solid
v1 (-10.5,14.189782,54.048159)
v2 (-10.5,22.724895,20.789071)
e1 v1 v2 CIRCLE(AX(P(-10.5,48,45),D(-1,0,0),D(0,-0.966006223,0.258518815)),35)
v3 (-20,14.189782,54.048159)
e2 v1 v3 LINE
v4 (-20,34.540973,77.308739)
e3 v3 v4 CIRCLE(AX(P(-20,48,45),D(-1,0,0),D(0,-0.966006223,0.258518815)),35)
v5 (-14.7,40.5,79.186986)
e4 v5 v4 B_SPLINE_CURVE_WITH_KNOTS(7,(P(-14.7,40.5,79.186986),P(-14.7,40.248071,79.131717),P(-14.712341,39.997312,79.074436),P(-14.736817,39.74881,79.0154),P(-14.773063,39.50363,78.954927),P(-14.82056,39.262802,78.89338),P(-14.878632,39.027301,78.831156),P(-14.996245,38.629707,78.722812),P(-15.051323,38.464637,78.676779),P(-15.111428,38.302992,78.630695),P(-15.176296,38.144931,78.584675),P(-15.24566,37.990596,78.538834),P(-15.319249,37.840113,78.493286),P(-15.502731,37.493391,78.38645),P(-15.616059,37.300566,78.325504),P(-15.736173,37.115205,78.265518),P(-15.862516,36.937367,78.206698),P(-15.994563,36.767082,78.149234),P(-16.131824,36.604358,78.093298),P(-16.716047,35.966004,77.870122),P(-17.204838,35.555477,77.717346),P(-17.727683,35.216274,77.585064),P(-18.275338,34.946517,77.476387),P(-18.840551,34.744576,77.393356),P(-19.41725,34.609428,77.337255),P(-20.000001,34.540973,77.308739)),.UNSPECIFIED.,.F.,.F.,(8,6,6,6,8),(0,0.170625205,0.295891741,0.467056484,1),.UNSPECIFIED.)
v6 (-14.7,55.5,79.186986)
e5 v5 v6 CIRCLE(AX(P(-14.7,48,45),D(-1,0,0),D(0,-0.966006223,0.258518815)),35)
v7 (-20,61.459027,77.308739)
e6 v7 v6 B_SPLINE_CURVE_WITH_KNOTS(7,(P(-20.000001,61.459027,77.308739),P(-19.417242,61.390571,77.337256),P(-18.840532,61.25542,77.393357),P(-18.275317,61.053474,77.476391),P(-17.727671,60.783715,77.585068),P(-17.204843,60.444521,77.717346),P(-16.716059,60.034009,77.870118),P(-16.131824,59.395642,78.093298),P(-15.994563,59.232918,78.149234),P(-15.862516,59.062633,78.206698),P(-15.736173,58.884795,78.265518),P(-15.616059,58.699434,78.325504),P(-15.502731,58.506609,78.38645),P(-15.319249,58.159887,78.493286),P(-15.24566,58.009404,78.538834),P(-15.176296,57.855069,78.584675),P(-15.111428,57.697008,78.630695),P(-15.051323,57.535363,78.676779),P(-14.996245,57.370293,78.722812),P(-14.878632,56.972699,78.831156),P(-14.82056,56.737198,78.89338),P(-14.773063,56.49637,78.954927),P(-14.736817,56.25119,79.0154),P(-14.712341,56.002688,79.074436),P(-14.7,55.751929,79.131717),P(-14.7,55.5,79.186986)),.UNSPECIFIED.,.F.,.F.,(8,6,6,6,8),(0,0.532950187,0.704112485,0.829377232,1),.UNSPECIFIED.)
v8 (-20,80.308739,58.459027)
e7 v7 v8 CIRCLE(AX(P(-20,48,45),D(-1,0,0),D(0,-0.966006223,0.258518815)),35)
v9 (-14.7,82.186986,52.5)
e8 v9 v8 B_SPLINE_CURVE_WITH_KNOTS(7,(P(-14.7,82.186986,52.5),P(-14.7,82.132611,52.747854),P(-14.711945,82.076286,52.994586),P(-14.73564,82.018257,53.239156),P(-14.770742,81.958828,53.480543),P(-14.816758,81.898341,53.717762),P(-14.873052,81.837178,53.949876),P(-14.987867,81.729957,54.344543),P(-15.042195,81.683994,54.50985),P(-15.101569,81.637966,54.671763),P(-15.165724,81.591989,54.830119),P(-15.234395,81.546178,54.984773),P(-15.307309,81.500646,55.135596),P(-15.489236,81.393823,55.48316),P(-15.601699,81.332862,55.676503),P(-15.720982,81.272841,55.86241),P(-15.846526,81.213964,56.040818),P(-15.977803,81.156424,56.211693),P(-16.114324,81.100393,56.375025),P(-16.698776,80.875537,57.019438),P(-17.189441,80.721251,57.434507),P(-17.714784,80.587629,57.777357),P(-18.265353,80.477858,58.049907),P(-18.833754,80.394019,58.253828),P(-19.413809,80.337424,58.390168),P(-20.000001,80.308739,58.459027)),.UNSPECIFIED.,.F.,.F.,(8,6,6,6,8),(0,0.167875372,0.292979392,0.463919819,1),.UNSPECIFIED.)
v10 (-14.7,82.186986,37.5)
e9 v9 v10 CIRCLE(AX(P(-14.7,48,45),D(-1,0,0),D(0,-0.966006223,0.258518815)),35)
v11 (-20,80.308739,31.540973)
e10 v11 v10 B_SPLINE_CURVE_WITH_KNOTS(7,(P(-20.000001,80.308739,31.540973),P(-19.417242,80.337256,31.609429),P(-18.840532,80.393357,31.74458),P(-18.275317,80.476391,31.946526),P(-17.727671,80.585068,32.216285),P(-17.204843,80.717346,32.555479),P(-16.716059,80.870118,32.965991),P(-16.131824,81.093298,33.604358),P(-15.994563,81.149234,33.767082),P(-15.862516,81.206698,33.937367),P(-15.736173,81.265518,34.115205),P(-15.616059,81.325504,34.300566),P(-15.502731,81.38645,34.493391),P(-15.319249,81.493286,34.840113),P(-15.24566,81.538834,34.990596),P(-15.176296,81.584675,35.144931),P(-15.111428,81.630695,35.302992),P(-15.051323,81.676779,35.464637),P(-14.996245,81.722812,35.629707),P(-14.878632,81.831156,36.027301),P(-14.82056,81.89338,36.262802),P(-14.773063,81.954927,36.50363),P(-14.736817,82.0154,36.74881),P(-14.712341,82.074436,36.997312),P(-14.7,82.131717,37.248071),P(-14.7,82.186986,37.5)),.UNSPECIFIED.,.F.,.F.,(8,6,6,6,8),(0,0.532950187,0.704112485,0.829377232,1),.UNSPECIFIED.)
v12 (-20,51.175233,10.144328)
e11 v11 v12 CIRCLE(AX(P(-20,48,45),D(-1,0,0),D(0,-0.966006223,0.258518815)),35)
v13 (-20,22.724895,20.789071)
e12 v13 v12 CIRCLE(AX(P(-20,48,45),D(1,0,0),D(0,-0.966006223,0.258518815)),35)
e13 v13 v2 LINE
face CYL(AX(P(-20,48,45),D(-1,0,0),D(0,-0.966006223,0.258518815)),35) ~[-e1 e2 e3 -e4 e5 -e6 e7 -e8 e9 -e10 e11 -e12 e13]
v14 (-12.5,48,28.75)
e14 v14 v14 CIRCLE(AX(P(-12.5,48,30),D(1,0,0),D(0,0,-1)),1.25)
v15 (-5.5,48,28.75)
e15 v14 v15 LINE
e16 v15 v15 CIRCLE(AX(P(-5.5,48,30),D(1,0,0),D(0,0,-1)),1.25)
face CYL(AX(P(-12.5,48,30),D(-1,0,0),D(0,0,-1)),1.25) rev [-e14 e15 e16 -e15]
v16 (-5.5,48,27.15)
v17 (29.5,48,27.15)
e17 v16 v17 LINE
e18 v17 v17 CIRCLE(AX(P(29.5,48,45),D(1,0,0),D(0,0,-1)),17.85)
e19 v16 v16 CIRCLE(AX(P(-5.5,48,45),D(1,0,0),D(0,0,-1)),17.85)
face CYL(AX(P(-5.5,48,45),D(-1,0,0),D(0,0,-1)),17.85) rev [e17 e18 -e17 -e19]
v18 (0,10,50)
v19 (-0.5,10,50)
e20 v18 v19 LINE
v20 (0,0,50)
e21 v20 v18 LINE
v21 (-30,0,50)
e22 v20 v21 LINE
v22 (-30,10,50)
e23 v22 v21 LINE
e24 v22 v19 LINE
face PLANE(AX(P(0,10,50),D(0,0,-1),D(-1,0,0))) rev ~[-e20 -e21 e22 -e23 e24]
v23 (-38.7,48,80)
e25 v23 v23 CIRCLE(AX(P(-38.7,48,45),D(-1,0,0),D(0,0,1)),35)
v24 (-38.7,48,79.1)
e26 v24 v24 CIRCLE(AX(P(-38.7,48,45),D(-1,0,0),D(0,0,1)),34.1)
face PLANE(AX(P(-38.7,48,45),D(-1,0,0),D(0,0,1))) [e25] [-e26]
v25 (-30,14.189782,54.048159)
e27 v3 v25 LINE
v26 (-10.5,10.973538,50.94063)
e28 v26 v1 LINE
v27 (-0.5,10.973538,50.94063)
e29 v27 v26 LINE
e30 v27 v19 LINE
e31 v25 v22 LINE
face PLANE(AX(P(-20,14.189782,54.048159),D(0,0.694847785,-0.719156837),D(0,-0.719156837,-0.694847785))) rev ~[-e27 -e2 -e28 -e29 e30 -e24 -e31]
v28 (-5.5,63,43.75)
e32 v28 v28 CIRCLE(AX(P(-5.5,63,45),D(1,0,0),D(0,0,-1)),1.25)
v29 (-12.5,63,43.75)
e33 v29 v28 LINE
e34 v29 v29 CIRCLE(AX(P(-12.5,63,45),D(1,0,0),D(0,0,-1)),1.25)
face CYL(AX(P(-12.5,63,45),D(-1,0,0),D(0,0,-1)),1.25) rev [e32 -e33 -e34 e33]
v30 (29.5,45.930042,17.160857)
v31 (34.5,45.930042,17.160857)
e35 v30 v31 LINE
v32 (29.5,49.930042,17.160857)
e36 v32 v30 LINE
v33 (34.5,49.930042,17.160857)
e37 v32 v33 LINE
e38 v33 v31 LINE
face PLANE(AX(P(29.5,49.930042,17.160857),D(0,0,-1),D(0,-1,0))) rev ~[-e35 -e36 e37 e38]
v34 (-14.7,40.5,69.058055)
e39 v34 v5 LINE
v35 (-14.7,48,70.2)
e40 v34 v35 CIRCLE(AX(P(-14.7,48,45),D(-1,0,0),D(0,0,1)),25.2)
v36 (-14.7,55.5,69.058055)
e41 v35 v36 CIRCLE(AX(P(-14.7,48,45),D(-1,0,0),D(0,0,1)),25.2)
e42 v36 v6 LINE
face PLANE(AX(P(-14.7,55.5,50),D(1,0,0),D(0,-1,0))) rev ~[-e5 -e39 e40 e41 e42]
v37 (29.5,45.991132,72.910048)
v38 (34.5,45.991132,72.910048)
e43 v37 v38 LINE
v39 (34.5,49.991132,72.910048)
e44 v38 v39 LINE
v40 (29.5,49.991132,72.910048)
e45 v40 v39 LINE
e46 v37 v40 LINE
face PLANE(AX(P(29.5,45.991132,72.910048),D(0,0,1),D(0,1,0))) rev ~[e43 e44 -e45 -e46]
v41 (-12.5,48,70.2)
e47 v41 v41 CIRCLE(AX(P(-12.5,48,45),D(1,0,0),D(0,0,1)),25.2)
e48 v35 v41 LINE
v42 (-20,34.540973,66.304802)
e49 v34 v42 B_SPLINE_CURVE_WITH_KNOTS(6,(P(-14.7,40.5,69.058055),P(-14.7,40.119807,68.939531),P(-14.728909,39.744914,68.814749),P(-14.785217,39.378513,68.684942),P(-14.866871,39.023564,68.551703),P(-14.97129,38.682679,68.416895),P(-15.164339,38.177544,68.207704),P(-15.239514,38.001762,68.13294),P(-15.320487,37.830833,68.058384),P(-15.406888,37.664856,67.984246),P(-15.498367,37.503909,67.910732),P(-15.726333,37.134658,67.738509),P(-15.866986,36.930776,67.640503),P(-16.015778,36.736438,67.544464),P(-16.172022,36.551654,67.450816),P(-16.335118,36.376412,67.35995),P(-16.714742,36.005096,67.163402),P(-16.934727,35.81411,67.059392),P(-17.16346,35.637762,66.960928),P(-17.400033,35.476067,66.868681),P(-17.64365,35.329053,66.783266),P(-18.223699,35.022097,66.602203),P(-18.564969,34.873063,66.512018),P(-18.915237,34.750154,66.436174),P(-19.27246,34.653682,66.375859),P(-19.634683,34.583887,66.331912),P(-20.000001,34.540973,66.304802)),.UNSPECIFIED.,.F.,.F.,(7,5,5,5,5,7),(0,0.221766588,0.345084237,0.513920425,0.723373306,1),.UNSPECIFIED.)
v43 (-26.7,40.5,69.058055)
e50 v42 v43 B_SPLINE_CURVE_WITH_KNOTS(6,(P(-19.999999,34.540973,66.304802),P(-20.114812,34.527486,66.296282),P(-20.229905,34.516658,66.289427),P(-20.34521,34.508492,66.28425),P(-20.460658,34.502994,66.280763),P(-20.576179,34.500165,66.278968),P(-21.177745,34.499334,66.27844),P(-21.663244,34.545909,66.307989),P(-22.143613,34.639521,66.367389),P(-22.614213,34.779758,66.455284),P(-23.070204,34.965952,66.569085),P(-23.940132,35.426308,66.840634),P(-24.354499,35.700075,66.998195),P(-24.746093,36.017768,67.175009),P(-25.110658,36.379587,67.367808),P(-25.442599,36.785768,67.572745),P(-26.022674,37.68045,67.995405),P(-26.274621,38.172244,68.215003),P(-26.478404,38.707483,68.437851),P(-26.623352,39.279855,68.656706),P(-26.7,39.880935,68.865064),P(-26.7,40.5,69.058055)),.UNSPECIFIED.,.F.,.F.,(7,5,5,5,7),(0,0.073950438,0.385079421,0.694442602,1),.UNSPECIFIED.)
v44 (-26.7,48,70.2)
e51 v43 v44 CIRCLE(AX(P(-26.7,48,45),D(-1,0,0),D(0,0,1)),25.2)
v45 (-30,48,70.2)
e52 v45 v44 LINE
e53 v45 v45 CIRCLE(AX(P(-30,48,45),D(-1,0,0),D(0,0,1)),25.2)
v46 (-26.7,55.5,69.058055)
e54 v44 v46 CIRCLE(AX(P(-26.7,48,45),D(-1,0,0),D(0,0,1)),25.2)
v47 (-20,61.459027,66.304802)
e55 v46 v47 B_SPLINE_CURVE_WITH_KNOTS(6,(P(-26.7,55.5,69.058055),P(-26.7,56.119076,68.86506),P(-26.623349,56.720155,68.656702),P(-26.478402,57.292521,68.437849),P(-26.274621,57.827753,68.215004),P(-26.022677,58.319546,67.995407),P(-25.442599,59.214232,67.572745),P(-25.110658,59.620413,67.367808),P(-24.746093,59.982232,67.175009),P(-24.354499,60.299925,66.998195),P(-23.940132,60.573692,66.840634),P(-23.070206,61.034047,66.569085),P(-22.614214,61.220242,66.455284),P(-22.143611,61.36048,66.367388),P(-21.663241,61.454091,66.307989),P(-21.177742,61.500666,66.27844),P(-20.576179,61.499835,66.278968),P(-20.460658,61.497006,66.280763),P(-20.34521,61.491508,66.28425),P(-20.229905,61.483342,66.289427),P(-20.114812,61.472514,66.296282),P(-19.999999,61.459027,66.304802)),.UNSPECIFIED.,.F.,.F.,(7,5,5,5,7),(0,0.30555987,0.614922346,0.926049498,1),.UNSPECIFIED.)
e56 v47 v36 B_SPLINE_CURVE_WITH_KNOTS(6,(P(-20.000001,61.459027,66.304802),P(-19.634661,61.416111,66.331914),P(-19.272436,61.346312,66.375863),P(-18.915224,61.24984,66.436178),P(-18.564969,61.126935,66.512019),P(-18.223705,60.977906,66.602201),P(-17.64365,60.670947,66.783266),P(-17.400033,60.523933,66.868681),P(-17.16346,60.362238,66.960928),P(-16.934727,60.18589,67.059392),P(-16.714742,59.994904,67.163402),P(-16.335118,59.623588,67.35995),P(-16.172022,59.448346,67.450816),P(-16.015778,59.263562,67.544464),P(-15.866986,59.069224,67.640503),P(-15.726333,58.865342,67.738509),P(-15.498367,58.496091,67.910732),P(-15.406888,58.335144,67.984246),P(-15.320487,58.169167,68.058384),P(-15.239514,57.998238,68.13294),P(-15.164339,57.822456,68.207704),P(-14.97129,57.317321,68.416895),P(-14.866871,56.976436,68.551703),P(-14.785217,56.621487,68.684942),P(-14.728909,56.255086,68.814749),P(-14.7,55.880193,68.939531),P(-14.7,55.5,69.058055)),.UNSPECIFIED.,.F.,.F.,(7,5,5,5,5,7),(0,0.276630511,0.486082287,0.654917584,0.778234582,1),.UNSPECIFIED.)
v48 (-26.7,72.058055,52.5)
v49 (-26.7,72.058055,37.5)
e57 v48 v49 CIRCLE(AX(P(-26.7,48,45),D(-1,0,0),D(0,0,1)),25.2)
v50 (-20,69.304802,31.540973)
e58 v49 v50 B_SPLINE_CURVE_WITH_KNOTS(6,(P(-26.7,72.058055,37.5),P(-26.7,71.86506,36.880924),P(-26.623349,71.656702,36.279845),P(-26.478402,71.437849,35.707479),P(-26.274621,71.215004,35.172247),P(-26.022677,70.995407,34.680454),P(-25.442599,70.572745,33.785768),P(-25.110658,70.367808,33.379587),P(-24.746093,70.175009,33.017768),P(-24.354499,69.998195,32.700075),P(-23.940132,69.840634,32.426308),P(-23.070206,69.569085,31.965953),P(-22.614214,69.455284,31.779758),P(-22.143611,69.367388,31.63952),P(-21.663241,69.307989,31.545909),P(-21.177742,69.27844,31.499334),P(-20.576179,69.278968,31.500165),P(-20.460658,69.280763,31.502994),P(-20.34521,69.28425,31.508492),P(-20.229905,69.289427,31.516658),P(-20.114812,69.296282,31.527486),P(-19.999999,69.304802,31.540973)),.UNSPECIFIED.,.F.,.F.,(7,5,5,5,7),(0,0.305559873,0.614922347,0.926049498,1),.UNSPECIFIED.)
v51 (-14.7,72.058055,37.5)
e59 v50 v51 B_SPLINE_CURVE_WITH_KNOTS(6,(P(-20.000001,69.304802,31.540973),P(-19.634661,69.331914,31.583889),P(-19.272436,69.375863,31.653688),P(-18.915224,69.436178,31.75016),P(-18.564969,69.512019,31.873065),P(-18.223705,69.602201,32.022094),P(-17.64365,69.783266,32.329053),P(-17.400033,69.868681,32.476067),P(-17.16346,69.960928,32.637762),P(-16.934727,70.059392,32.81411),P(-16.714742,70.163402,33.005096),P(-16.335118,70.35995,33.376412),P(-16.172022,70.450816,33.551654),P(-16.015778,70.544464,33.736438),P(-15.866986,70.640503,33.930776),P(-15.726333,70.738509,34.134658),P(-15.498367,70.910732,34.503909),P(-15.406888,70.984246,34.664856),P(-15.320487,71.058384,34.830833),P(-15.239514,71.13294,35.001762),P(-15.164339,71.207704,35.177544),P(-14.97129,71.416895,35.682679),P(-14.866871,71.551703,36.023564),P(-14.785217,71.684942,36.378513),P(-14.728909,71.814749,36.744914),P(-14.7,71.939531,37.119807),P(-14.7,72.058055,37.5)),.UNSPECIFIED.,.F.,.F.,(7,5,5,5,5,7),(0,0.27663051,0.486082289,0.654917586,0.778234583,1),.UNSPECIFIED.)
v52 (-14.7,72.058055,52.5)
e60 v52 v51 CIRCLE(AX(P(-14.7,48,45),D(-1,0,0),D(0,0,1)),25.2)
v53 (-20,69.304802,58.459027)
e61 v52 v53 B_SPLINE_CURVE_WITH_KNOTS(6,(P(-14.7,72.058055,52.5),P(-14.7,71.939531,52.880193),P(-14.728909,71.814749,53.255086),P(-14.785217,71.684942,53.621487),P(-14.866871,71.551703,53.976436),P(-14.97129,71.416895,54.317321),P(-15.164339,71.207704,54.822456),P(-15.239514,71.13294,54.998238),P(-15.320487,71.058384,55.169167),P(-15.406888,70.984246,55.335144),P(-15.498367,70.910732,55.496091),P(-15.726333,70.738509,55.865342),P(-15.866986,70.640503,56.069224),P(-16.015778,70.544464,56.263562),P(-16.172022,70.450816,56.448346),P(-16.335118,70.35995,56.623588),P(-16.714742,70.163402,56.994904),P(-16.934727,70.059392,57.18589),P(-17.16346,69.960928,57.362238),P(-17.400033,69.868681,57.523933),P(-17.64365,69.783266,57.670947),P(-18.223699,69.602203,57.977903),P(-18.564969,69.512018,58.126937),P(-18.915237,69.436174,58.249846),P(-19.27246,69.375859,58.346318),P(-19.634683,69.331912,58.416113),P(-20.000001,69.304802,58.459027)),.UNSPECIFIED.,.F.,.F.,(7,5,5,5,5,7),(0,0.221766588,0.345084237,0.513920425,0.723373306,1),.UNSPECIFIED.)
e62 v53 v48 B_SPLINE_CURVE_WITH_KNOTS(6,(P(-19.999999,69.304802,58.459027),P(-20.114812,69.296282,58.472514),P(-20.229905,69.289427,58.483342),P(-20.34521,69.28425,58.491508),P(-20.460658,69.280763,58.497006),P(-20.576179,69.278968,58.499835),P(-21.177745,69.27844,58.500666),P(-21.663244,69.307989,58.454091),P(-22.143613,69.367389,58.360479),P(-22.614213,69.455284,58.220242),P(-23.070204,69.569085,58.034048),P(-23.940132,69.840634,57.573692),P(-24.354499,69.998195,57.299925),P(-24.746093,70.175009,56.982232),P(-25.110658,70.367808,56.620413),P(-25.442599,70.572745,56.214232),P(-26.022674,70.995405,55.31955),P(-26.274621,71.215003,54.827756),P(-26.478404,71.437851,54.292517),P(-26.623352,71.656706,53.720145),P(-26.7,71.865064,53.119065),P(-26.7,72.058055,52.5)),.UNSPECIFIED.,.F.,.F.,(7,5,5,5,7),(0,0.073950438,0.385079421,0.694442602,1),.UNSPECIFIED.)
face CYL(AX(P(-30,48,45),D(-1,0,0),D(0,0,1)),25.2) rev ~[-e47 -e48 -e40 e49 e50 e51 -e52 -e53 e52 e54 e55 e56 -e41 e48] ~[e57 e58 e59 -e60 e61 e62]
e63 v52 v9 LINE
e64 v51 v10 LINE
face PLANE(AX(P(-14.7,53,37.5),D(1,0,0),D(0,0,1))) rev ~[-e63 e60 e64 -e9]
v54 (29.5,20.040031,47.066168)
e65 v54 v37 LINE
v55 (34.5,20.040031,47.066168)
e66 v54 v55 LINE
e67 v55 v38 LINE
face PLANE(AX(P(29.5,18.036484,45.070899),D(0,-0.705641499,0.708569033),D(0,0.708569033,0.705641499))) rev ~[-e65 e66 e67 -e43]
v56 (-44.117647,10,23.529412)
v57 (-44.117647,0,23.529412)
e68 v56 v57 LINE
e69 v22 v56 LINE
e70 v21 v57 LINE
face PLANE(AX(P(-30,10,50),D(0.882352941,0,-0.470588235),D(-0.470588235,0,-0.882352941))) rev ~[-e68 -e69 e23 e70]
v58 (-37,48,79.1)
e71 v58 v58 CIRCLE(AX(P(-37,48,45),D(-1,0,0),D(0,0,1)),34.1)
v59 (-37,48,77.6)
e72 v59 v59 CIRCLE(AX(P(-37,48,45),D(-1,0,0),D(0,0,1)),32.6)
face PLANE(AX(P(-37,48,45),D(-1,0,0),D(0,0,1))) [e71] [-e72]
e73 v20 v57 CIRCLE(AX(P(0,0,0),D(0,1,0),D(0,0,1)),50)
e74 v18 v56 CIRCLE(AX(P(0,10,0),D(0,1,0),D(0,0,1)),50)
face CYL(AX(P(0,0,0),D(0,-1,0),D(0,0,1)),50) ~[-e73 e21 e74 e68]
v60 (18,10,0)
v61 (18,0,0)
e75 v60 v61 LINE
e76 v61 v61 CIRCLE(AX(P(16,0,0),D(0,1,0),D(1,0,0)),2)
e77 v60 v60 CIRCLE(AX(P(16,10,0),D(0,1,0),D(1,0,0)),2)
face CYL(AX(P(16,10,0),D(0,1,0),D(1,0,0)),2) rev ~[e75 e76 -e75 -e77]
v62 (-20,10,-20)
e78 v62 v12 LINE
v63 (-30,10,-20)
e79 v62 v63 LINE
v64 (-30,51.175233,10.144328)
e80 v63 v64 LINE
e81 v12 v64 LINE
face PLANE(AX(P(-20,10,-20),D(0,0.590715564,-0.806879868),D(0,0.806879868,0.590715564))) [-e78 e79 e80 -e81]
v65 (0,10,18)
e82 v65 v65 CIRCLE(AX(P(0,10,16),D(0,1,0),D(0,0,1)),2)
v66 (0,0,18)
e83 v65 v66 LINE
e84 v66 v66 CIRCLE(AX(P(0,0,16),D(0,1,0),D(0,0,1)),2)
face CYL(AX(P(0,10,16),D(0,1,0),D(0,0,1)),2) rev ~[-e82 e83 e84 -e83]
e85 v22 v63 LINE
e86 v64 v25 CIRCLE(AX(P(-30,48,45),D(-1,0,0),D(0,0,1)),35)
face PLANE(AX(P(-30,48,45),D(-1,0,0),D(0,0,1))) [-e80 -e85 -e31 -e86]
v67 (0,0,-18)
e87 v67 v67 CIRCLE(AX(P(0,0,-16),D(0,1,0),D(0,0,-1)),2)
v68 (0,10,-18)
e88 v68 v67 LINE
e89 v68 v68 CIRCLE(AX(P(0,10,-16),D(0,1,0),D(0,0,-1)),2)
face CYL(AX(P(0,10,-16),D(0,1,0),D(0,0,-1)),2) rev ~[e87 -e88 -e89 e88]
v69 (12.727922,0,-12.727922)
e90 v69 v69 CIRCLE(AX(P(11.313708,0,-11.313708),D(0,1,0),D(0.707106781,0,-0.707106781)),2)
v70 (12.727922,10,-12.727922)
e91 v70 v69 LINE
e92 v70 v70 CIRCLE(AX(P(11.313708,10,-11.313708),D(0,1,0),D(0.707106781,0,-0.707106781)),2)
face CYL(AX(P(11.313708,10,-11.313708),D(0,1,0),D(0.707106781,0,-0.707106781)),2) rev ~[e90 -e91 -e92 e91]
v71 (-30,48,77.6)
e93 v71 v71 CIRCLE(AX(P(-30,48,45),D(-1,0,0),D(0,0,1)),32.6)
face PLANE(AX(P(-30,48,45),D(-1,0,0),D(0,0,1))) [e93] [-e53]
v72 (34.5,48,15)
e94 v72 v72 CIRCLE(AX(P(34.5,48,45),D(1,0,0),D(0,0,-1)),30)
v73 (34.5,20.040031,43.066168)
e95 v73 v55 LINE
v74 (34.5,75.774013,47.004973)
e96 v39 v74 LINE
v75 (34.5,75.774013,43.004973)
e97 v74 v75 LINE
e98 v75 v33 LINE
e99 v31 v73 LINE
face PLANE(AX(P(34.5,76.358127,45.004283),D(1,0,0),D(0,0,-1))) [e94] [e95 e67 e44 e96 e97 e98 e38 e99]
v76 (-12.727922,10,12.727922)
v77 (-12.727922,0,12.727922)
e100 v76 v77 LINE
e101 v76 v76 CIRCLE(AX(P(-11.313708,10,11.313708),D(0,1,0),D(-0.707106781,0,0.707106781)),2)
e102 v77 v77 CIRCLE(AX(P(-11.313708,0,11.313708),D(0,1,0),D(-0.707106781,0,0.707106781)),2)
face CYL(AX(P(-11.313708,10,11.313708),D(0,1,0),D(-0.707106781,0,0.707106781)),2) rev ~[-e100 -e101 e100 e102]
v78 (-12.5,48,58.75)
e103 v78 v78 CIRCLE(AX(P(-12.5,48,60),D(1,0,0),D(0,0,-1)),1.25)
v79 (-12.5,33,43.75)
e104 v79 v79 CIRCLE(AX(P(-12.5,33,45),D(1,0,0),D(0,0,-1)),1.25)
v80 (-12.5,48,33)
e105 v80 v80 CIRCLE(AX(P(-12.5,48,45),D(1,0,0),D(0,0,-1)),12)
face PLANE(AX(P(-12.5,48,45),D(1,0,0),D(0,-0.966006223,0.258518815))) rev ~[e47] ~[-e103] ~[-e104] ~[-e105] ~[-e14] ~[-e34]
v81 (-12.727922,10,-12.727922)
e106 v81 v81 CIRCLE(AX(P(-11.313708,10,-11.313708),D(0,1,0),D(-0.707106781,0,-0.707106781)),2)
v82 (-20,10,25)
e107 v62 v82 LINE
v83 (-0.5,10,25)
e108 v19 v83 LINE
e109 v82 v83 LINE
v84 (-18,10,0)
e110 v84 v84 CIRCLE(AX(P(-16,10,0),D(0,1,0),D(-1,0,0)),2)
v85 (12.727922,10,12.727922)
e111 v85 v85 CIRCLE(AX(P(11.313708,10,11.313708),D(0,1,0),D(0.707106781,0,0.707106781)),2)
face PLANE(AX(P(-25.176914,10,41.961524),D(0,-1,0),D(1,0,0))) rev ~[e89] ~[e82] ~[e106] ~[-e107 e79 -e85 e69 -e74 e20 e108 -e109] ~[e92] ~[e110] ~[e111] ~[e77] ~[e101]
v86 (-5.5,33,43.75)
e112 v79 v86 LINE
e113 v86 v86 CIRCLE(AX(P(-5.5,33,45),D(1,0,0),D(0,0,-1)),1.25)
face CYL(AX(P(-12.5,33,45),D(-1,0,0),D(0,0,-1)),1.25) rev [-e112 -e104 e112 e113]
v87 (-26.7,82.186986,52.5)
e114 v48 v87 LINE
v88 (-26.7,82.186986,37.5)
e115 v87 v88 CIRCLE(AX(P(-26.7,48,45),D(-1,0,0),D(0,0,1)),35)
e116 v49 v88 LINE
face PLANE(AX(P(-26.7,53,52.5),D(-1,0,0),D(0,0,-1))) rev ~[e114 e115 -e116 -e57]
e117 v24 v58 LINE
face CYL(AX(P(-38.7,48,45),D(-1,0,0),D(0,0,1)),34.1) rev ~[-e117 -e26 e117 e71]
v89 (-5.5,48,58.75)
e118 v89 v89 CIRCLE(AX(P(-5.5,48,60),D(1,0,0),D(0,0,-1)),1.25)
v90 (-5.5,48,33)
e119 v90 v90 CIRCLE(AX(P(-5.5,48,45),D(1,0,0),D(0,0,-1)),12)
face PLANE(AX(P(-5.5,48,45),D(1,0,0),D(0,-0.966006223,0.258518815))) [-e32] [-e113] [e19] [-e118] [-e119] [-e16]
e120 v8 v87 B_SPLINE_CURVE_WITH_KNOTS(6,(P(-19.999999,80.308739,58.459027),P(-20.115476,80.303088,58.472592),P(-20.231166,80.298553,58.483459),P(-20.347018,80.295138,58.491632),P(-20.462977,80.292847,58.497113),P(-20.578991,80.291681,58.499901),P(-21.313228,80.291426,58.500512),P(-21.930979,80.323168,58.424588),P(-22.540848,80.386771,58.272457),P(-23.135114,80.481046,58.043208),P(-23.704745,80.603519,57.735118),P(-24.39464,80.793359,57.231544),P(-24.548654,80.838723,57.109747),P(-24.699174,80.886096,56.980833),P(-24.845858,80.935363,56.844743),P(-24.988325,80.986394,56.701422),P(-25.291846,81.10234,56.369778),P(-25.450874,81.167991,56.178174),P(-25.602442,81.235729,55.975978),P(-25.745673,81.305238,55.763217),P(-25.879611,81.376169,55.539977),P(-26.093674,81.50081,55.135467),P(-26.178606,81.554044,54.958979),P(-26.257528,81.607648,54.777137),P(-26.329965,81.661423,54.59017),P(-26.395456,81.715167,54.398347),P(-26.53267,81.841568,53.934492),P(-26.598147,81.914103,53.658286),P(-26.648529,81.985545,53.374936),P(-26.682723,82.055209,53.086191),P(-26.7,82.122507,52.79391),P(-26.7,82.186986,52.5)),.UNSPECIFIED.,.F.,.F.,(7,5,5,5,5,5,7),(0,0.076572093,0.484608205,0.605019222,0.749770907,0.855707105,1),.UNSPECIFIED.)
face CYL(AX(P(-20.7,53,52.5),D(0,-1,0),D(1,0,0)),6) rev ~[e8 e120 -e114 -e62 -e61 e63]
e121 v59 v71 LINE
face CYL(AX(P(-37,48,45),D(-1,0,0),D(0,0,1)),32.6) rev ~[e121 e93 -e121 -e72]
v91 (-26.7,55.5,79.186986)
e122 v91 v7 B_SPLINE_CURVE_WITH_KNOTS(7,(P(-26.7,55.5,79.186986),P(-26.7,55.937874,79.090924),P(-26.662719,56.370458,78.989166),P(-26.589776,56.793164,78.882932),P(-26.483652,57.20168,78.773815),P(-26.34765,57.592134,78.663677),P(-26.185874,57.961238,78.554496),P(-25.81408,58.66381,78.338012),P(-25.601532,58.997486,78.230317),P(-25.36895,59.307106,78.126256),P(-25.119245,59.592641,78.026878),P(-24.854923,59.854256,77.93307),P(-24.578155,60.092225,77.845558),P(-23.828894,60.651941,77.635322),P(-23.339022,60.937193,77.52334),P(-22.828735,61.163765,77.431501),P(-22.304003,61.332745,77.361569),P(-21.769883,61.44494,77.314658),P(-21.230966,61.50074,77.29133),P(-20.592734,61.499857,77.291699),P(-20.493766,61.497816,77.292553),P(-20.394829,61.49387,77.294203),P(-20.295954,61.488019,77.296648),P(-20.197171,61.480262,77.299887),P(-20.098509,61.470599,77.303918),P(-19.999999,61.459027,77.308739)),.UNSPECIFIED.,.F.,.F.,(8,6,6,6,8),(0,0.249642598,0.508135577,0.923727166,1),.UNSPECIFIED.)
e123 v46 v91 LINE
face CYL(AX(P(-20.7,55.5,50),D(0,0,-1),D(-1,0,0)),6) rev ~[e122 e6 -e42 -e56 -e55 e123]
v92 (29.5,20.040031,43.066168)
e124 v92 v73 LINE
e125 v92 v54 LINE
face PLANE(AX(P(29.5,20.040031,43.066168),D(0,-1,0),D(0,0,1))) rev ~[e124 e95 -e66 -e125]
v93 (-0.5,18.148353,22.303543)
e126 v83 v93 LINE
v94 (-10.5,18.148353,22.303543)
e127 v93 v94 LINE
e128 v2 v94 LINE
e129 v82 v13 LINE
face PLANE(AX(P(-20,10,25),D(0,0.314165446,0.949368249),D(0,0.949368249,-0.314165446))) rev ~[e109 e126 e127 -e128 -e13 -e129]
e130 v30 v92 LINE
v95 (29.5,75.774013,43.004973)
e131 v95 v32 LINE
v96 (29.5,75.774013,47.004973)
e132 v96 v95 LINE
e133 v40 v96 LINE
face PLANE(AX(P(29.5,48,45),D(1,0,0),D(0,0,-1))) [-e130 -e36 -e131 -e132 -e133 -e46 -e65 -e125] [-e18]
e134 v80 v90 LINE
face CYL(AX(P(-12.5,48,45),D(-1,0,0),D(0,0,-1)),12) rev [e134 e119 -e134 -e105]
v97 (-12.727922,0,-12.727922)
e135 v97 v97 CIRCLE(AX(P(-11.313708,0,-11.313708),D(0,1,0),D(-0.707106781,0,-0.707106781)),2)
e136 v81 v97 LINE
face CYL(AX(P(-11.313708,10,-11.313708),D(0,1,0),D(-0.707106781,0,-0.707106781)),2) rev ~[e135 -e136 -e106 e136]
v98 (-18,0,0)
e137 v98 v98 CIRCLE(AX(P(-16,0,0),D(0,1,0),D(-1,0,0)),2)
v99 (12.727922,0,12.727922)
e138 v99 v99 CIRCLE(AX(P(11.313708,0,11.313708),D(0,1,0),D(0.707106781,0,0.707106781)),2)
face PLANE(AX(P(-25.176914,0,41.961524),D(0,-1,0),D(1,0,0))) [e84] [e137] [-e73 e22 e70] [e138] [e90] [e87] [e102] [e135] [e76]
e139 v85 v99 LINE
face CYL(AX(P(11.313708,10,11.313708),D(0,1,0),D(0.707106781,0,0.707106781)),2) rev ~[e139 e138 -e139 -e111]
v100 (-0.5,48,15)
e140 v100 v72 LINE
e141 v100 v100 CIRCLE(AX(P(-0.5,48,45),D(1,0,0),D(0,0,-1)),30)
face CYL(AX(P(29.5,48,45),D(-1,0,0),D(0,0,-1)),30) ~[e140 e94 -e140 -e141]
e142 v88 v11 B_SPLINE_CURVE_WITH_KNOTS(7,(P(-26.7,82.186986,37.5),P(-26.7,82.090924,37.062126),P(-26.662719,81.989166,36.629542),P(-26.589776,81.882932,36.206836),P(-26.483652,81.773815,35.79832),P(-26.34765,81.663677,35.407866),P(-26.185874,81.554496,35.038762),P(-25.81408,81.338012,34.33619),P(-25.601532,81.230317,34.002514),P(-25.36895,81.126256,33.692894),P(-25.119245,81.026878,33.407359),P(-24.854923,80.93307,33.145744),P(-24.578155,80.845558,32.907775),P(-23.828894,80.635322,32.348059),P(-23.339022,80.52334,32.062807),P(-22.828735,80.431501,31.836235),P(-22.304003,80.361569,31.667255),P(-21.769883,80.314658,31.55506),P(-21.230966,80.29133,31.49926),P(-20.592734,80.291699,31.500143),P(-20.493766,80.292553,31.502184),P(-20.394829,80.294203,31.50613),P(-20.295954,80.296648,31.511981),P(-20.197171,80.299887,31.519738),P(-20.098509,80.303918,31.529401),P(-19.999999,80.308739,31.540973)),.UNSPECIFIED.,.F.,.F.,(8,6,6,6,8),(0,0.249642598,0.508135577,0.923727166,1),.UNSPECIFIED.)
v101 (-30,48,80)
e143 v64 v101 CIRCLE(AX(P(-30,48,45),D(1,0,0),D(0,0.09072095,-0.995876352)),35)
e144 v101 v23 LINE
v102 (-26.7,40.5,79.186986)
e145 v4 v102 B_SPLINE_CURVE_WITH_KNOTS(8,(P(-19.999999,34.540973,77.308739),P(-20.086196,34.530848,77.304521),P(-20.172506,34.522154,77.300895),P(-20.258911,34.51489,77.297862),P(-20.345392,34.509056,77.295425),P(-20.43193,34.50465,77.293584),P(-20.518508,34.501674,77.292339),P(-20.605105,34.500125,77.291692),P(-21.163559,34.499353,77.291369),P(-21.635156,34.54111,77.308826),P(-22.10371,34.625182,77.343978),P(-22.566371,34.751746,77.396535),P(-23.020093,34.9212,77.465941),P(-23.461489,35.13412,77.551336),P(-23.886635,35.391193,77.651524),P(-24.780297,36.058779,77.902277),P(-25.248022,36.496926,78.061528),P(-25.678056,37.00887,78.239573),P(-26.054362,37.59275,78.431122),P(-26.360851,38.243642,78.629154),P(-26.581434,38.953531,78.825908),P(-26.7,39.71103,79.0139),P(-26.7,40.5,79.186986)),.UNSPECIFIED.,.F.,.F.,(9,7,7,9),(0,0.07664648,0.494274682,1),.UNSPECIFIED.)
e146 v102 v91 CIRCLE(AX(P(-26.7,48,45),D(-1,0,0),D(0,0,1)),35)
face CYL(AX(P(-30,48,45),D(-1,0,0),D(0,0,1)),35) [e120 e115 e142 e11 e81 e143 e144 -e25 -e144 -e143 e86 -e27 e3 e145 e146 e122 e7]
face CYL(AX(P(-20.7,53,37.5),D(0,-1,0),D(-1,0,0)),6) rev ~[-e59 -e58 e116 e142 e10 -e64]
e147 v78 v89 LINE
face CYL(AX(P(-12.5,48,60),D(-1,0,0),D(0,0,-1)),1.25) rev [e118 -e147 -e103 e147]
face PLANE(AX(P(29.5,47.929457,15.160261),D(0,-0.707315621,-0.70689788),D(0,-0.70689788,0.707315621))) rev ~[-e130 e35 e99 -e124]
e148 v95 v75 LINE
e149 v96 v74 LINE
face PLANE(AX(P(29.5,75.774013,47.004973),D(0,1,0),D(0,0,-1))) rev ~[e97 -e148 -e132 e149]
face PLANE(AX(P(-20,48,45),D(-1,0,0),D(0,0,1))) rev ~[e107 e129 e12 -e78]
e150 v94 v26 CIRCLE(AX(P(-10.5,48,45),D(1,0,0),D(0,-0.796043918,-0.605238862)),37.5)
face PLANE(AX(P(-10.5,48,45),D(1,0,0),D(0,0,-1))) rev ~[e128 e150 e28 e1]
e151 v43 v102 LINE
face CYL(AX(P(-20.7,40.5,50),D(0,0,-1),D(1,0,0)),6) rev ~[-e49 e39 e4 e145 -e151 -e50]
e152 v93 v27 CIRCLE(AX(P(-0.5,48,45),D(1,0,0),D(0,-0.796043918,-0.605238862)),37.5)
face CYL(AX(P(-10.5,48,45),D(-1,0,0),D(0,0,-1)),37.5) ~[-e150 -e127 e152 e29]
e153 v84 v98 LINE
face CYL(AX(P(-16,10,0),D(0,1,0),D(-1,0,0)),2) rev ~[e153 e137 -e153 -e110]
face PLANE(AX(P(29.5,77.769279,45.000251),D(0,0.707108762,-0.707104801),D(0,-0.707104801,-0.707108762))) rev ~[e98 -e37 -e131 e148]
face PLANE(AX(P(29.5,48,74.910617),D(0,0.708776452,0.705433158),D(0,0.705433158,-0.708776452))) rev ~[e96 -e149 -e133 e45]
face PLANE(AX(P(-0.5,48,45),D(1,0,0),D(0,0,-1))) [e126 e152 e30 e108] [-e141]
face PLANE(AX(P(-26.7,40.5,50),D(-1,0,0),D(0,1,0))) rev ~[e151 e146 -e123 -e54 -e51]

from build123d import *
from build123d.topology import SkipClean

# Parameters (mm, degrees)
SKETCH_1_R               = 50
EXTRUDE_1_DEPTH          = 10
SKETCH_2_R               = 1.9999999999999927
CUT_EXTRUDE_1_DEPTH      = 72.4142842854285
PATTERN_CIRCULAR_1_COUNT = 8
SKETCH_6_R               = 30
EXTRUDE_4_DEPTH          = 10
EXTRUDE_START            = -10
EXTRUDE_5_DEPTH          = 10
SKETCH_8_R               = 35
EXTRUDE_6_DEPTH          = 10
SKETCH_9_R               = 25.200000000000003
CUT_EXTRUDE_2_DEPTH      = 10
SKETCH_10_R              = 35
SKETCH_10_R_2            = 25.20000000000001
EXTRUDE_7_DEPTH          = 7.5
SKETCH_11_R              = 35
SKETCH_11_R_2            = 1.2500000000000047
SKETCH_11_R_3            = 1.2500000000000013
SKETCH_11_R_4            = 12.000000000000005
EXTRUDE_8_DEPTH          = 7
SKETCH_12_R              = 30
SKETCH_12_R_2            = 17.85
EXTRUDE_9_DEPTH          = 35
EXTRUDE_START_2          = 7
SKETCH_16_R              = 34.099999999999994
SKETCH_16_R_2            = 32.59999999999999
EXTRUDE_12_DEPTH         = 7
EXTRUDE_START_3          = 1.7
SKETCH_17_R              = 35
SKETCH_17_R_2            = 34.099999999999994
EXTRUDE_13_DEPTH         = 1.7
CUT_EXTRUDE_3_DEPTH      = 39.00000000000001
PATTERN_CIRCULAR_2_COUNT = 2
PATTERN_CIRCULAR_2_ANGLE = 90.0000000000002
EXTRUDE_14_DEPTH         = 5
EXTRUDE_14_DEPTH_BACK    = 5
SKETCH_19_R              = 37.50000000000001
SKETCH_19_R_2            = 30
EXTRUDE_15_REACH         = 139.9
SKETCH_22_R              = 30
EXTRUDE_16_DEPTH         = 5
EXTRUDE_17_DEPTH         = 5


with BuildPart() as part:
    # 草图1 → 凸台-拉伸1 (new body)
    with BuildSketch(Plane(origin=(0, 0, 0), x_dir=(1, 0, 0), z_dir=(0, 1, 0))):
        with Locations(Location((0, 0, 0), (0, 0, 270))):
            Circle(SKETCH_1_R)
    extrude(amount=EXTRUDE_1_DEPTH)

    # 草图2 → 切除-拉伸1 (cut, through all)
    with BuildSketch(Plane(origin=(0, 10, 0), x_dir=(1, 0, 0), z_dir=(0, 1, 0))):
        with Locations(Location((0, -15.999999999999996, 0), (0, 0, 270))):
            Circle(SKETCH_2_R)
    cut_extrude_1 = extrude(amount=-CUT_EXTRUDE_1_DEPTH, mode=Mode.SUBTRACT)

    # 阵列(圆周)1: 切除-拉伸1 ×8 about axis
    pattern_circular_1_axis = Axis((1.404e-14, 0, 3e-17), (0, 1, 0))
    for i in range(1, PATTERN_CIRCULAR_1_COUNT):
        add(cut_extrude_1.rotate(pattern_circular_1_axis, i * 360 / PATTERN_CIRCULAR_1_COUNT), mode=Mode.SUBTRACT)

    # 草图6 → 凸台-拉伸4 (add)
    with BuildSketch(Plane(origin=(-20, 0, 0), x_dir=(0, 0, -1), z_dir=(1, 0, 0))):
        with Locations((-45.00000000000001, 48)):
            Circle(SKETCH_6_R)
        with BuildLine():
            Line((-66.57470511060487, 27.1545664619217), (-50, 10))
            Line((-50, 10), (20, 10))
            Line((20, 10), (-20.793603948134574, 65.72146693082246))
            ThreePointArc((-20.793603948134578, 65.72146693082246), (-16.48516279587097, 57.322234668898794), (-15.000000000000007, 48))
            ThreePointArc((-15.000000000000007, 47.99999999999999), (-33.75813968504649, 20.185964394588957), (-66.57470511060488, 27.154566461921696))
        make_face()
    extrude(amount=-EXTRUDE_4_DEPTH)

    # 草图7 → 凸台-拉伸5 (add)
    with BuildSketch(Plane.XZ.offset(EXTRUDE_START)):
        with BuildLine():
            Line((-20, 50.000000000000014), (-30, 50.000000000000014))
            Line((-30, 50.000000000000014), (-44.11764705882355, 23.52941176470589))
            ThreePointArc((-44.11764705882352, 23.529411764705895), (-25.724787771376317, 42.874646285627215), (3.06e-15, 50))
            Line((0, 50), (-20, 50.000000000000014))
        make_face()
    extrude(amount=EXTRUDE_5_DEPTH)

    # 草图8 → 凸台-拉伸6 (add)
    with BuildSketch(Plane.ZY.offset(30)):
        with Locations((45.00000000000001, 48)):
            Circle(SKETCH_8_R)
    extrude(amount=-EXTRUDE_6_DEPTH)

    # 草图9 → 切除-拉伸2 (cut)
    with BuildSketch(Plane.ZY.offset(30)):
        with Locations((45.00000000000001, 48)):
            Circle(SKETCH_9_R)
    extrude(amount=-CUT_EXTRUDE_2_DEPTH, mode=Mode.SUBTRACT)

    # 草图10 → 凸台-拉伸7 (add)
    with SkipClean():  # the faces are left unmerged after this step: merging them gives an invalid solid
        with BuildSketch(Plane(origin=(-20, 0, 0), x_dir=(0, 0, -1), z_dir=(1, 0, 0))):
            with Locations(Location((-45.00000000000001, 48, 0), (0, 0, 255.017807985))):
                Circle(SKETCH_10_R)
            with Locations(Location((-45.00000000000001, 48, 0), (0, 0, 180))):
                Circle(SKETCH_10_R_2, mode=Mode.SUBTRACT)
        extrude(amount=EXTRUDE_7_DEPTH)

    # 草图11 → 凸台-拉伸8 (add)
    with SkipClean():  # the faces are left unmerged after this step: merging them gives an invalid solid
        with BuildSketch(Plane(origin=(-12.5, 0, 0), x_dir=(0, 0, -1), z_dir=(1, 0, 0))):
            with Locations(Location((-45.00000000000001, 48, 0), (0, 0, 255.017807985))):
                Circle(SKETCH_11_R)
            with Locations((-45.00000000000001, 63)):
                Circle(SKETCH_11_R_2, mode=Mode.SUBTRACT)
            with Locations((-30.000000000000007, 48)):
                Circle(SKETCH_11_R_3, mode=Mode.SUBTRACT)
            with Locations((-60.00000000000001, 48)):
                Circle(SKETCH_11_R_2, mode=Mode.SUBTRACT)
            with Locations((-45.00000000000001, 33)):
                Circle(SKETCH_11_R_2, mode=Mode.SUBTRACT)
            with Locations((-45.00000000000001, 48)):
                Circle(SKETCH_11_R_4, mode=Mode.SUBTRACT)
        extrude(amount=EXTRUDE_8_DEPTH)

    # 草图12 → 凸台-拉伸9 (add)
    with SkipClean():  # the faces are left unmerged after this step: merging them gives an invalid solid
        with BuildSketch(Plane(origin=(-5.500000000000001, 0, 0), x_dir=(0, 0, -1), z_dir=(1, 0, 0))):
            with Locations((-45.00000000000001, 48)):
                Circle(SKETCH_12_R)
            with Locations((-45.00000000000001, 48)):
                Circle(SKETCH_12_R_2, mode=Mode.SUBTRACT)
        extrude(amount=EXTRUDE_9_DEPTH)

    # 草图16 → 凸台-拉伸12 (add)
    # profile 1 of 2: a face of its own
    with SkipClean():  # the faces are left unmerged after this step: merging them gives an invalid solid
        with BuildSketch(Plane.ZY.offset(30).offset(EXTRUDE_START_2)):
            with BuildLine():
                ThreePointArc((54.04815853046854, 14.18978220703822), (72.7640554365388, 26.689035082455778), (80, 47.99999999999999))
                ThreePointArc((80, 48), (46.58925584695761, 82.96389946577628), (10.144327665547948, 51.17523323762416))
                ThreePointArc((10.144327665547948, 51.17523323762416), (22.4503250761864, 21.2322552158324), (54.04815853046854, 14.18978220703822))
            make_face()
            with Locations((45.00000000000001, 48)):
                Circle(SKETCH_16_R, mode=Mode.SUBTRACT)
        # profile 2 of 2: a face of its own
        with BuildSketch(Plane.ZY.offset(30).offset(EXTRUDE_START_2)):
            with Locations((45.00000000000001, 48)):
                Circle(SKETCH_16_R)
            with Locations((45.00000000000001, 48)):
                Circle(SKETCH_16_R_2, mode=Mode.SUBTRACT)
        extrude(amount=-EXTRUDE_12_DEPTH)

    # 草图17 → 凸台-拉伸13 (add)
    with SkipClean():  # the faces are left unmerged after this step: merging them gives an invalid solid
        with BuildSketch(Plane.ZY.offset(37).offset(EXTRUDE_START_3)):
            with Locations((45.00000000000001, 48)):
                Circle(SKETCH_17_R)
            with Locations((45.00000000000001, 48)):
                Circle(SKETCH_17_R_2, mode=Mode.SUBTRACT)
        extrude(amount=-EXTRUDE_13_DEPTH)

    # 草图18 → 切除-拉伸3 (cut)
    with SkipClean():  # the faces are left unmerged after this step: merging them gives an invalid solid
        with BuildSketch(Plane.XY.offset(50)):
            with BuildLine():
                Line((-14.700000000000037, 55.50000000000001), (-14.700000000000031, 40.5))
                ThreePointArc((-14.700000000000031, 40.5), (-20.70000000000003, 34.5), (-26.700000000000035, 40.5))
                Line((-26.700000000000035, 40.5), (-26.70000000000004, 55.49999999999999))
                ThreePointArc((-26.70000000000004, 55.49999999999999), (-20.70000000000004, 61.5), (-14.700000000000037, 55.50000000000001))
            make_face()
        cut_extrude_3 = extrude(amount=CUT_EXTRUDE_3_DEPTH, mode=Mode.SUBTRACT)

    # 阵列(圆周)2: 切除-拉伸3 ×2 about axis
    with SkipClean():  # the faces are left unmerged after this step: merging them gives an invalid solid
        pattern_circular_2_axis = Axis((78.99494936611666, 48, 45.00000000000001), (-1, 0, 0))
        for i in range(1, PATTERN_CIRCULAR_2_COUNT):
            add(cut_extrude_3.rotate(pattern_circular_2_axis, i * PATTERN_CIRCULAR_2_ANGLE / (PATTERN_CIRCULAR_2_COUNT - 1)), mode=Mode.SUBTRACT)

    # 草图19 → 凸台-拉伸14 (add, two sides: drawn at the far end of the back side and taken through both)
    with SkipClean():  # the faces are left unmerged after this step: merging them gives an invalid solid
        with BuildSketch(Plane(origin=(-5.500000000000001, 0, 0), x_dir=(0, 0, -1), z_dir=(1, 0, 0)).offset(-EXTRUDE_14_DEPTH_BACK)):
            with Locations((-45.00000000000001, 48)):
                Circle(SKETCH_19_R)
            with Locations((-45.00000000000001, 48)):
                Circle(SKETCH_19_R_2, mode=Mode.SUBTRACT)
        extrude(amount=EXTRUDE_14_DEPTH + EXTRUDE_14_DEPTH_BACK)

    # 凸台-拉伸15: up to this face of the body (flat: up to its plane)
    extrude_15_end = Plane(part.part.faces().sort_by_distance((-0.5, 48, 81.439339828))[0])
    # 草图21 → 凸台-拉伸15 (add, up to the picked face)
    with BuildSketch(Plane(origin=(-20, 0, 0), x_dir=(0, 0, -1), z_dir=(1, 0, 0)), mode=Mode.PRIVATE) as extrude_15_sk1:
        with BuildLine():
            Line((-54.048158530468555, 14.189782207038219), (-50, 10.000000000000002))
            Line((-50, 10.000000000000002), (-25, 10))
            Line((-25, 10), (-20.789070824021746, 22.72489548120987))
            ThreePointArc((-20.78907082402175, 22.72489548120988), (-36.300032007942924, 14.098516891776221), (-54.048158530468555, 14.18978220703822))
        make_face()
    extrude_15_tool1 = split(extrude(extrude_15_sk1.sketch, amount=EXTRUDE_15_REACH, mode=Mode.PRIVATE), bisect_by=extrude_15_end, keep=Keep.BOTH, mode=Mode.PRIVATE)
    add(extrude_15_tool1.solids().sort_by(Axis((-20, 13.28361, 34.159805), (1, 0, 0)))[0])

    # 草图22 → 凸台-拉伸16 (add)
    with BuildSketch(Plane(origin=(29.500000000000004, 0, 0), x_dir=(0, 0, -1), z_dir=(1, 0, 0))):
        with Locations((-45.00000000000001, 48)):
            Circle(SKETCH_22_R)
        Polygon((-74.91061684419095, 47.99999999999995), (-45.00025054949128, 77.76927926767611), (-15.160260801057072, 47.92945668419983), (-45.07089861755983, 18.036484102537916), align=None, mode=Mode.SUBTRACT)
    extrude(amount=EXTRUDE_16_DEPTH)

    # 草图23 → 凸台-拉伸17 (add)
    with BuildSketch(Plane(origin=(29.500000000000004, 0, 0), x_dir=(0, 0, -1), z_dir=(1, 0, 0))):
        Polygon((-45.00025054949128, 77.76927926767611), (-47.004973093070014, 75.77401298888844), (-43.004973093070014, 75.77401298888844), align=None)
        Polygon((-72.91004844309327, 45.99113173137293), (-72.91004844309327, 49.99113173137294), (-74.91061684419095, 47.99999999999995), align=None)
        Polygon((-15.160260801057074, 47.92945668419983), (-17.160857181289597, 49.9300418570019), (-17.160857181289597, 45.930041857001896), align=None)
        Polygon((-43.06616767917176, 20.040031046019667), (-47.06616767917177, 20.040031046019667), (-45.07089861755983, 18.036484102537912), align=None)
    extrude(amount=EXTRUDE_17_DEPTH)


solid = part.part
